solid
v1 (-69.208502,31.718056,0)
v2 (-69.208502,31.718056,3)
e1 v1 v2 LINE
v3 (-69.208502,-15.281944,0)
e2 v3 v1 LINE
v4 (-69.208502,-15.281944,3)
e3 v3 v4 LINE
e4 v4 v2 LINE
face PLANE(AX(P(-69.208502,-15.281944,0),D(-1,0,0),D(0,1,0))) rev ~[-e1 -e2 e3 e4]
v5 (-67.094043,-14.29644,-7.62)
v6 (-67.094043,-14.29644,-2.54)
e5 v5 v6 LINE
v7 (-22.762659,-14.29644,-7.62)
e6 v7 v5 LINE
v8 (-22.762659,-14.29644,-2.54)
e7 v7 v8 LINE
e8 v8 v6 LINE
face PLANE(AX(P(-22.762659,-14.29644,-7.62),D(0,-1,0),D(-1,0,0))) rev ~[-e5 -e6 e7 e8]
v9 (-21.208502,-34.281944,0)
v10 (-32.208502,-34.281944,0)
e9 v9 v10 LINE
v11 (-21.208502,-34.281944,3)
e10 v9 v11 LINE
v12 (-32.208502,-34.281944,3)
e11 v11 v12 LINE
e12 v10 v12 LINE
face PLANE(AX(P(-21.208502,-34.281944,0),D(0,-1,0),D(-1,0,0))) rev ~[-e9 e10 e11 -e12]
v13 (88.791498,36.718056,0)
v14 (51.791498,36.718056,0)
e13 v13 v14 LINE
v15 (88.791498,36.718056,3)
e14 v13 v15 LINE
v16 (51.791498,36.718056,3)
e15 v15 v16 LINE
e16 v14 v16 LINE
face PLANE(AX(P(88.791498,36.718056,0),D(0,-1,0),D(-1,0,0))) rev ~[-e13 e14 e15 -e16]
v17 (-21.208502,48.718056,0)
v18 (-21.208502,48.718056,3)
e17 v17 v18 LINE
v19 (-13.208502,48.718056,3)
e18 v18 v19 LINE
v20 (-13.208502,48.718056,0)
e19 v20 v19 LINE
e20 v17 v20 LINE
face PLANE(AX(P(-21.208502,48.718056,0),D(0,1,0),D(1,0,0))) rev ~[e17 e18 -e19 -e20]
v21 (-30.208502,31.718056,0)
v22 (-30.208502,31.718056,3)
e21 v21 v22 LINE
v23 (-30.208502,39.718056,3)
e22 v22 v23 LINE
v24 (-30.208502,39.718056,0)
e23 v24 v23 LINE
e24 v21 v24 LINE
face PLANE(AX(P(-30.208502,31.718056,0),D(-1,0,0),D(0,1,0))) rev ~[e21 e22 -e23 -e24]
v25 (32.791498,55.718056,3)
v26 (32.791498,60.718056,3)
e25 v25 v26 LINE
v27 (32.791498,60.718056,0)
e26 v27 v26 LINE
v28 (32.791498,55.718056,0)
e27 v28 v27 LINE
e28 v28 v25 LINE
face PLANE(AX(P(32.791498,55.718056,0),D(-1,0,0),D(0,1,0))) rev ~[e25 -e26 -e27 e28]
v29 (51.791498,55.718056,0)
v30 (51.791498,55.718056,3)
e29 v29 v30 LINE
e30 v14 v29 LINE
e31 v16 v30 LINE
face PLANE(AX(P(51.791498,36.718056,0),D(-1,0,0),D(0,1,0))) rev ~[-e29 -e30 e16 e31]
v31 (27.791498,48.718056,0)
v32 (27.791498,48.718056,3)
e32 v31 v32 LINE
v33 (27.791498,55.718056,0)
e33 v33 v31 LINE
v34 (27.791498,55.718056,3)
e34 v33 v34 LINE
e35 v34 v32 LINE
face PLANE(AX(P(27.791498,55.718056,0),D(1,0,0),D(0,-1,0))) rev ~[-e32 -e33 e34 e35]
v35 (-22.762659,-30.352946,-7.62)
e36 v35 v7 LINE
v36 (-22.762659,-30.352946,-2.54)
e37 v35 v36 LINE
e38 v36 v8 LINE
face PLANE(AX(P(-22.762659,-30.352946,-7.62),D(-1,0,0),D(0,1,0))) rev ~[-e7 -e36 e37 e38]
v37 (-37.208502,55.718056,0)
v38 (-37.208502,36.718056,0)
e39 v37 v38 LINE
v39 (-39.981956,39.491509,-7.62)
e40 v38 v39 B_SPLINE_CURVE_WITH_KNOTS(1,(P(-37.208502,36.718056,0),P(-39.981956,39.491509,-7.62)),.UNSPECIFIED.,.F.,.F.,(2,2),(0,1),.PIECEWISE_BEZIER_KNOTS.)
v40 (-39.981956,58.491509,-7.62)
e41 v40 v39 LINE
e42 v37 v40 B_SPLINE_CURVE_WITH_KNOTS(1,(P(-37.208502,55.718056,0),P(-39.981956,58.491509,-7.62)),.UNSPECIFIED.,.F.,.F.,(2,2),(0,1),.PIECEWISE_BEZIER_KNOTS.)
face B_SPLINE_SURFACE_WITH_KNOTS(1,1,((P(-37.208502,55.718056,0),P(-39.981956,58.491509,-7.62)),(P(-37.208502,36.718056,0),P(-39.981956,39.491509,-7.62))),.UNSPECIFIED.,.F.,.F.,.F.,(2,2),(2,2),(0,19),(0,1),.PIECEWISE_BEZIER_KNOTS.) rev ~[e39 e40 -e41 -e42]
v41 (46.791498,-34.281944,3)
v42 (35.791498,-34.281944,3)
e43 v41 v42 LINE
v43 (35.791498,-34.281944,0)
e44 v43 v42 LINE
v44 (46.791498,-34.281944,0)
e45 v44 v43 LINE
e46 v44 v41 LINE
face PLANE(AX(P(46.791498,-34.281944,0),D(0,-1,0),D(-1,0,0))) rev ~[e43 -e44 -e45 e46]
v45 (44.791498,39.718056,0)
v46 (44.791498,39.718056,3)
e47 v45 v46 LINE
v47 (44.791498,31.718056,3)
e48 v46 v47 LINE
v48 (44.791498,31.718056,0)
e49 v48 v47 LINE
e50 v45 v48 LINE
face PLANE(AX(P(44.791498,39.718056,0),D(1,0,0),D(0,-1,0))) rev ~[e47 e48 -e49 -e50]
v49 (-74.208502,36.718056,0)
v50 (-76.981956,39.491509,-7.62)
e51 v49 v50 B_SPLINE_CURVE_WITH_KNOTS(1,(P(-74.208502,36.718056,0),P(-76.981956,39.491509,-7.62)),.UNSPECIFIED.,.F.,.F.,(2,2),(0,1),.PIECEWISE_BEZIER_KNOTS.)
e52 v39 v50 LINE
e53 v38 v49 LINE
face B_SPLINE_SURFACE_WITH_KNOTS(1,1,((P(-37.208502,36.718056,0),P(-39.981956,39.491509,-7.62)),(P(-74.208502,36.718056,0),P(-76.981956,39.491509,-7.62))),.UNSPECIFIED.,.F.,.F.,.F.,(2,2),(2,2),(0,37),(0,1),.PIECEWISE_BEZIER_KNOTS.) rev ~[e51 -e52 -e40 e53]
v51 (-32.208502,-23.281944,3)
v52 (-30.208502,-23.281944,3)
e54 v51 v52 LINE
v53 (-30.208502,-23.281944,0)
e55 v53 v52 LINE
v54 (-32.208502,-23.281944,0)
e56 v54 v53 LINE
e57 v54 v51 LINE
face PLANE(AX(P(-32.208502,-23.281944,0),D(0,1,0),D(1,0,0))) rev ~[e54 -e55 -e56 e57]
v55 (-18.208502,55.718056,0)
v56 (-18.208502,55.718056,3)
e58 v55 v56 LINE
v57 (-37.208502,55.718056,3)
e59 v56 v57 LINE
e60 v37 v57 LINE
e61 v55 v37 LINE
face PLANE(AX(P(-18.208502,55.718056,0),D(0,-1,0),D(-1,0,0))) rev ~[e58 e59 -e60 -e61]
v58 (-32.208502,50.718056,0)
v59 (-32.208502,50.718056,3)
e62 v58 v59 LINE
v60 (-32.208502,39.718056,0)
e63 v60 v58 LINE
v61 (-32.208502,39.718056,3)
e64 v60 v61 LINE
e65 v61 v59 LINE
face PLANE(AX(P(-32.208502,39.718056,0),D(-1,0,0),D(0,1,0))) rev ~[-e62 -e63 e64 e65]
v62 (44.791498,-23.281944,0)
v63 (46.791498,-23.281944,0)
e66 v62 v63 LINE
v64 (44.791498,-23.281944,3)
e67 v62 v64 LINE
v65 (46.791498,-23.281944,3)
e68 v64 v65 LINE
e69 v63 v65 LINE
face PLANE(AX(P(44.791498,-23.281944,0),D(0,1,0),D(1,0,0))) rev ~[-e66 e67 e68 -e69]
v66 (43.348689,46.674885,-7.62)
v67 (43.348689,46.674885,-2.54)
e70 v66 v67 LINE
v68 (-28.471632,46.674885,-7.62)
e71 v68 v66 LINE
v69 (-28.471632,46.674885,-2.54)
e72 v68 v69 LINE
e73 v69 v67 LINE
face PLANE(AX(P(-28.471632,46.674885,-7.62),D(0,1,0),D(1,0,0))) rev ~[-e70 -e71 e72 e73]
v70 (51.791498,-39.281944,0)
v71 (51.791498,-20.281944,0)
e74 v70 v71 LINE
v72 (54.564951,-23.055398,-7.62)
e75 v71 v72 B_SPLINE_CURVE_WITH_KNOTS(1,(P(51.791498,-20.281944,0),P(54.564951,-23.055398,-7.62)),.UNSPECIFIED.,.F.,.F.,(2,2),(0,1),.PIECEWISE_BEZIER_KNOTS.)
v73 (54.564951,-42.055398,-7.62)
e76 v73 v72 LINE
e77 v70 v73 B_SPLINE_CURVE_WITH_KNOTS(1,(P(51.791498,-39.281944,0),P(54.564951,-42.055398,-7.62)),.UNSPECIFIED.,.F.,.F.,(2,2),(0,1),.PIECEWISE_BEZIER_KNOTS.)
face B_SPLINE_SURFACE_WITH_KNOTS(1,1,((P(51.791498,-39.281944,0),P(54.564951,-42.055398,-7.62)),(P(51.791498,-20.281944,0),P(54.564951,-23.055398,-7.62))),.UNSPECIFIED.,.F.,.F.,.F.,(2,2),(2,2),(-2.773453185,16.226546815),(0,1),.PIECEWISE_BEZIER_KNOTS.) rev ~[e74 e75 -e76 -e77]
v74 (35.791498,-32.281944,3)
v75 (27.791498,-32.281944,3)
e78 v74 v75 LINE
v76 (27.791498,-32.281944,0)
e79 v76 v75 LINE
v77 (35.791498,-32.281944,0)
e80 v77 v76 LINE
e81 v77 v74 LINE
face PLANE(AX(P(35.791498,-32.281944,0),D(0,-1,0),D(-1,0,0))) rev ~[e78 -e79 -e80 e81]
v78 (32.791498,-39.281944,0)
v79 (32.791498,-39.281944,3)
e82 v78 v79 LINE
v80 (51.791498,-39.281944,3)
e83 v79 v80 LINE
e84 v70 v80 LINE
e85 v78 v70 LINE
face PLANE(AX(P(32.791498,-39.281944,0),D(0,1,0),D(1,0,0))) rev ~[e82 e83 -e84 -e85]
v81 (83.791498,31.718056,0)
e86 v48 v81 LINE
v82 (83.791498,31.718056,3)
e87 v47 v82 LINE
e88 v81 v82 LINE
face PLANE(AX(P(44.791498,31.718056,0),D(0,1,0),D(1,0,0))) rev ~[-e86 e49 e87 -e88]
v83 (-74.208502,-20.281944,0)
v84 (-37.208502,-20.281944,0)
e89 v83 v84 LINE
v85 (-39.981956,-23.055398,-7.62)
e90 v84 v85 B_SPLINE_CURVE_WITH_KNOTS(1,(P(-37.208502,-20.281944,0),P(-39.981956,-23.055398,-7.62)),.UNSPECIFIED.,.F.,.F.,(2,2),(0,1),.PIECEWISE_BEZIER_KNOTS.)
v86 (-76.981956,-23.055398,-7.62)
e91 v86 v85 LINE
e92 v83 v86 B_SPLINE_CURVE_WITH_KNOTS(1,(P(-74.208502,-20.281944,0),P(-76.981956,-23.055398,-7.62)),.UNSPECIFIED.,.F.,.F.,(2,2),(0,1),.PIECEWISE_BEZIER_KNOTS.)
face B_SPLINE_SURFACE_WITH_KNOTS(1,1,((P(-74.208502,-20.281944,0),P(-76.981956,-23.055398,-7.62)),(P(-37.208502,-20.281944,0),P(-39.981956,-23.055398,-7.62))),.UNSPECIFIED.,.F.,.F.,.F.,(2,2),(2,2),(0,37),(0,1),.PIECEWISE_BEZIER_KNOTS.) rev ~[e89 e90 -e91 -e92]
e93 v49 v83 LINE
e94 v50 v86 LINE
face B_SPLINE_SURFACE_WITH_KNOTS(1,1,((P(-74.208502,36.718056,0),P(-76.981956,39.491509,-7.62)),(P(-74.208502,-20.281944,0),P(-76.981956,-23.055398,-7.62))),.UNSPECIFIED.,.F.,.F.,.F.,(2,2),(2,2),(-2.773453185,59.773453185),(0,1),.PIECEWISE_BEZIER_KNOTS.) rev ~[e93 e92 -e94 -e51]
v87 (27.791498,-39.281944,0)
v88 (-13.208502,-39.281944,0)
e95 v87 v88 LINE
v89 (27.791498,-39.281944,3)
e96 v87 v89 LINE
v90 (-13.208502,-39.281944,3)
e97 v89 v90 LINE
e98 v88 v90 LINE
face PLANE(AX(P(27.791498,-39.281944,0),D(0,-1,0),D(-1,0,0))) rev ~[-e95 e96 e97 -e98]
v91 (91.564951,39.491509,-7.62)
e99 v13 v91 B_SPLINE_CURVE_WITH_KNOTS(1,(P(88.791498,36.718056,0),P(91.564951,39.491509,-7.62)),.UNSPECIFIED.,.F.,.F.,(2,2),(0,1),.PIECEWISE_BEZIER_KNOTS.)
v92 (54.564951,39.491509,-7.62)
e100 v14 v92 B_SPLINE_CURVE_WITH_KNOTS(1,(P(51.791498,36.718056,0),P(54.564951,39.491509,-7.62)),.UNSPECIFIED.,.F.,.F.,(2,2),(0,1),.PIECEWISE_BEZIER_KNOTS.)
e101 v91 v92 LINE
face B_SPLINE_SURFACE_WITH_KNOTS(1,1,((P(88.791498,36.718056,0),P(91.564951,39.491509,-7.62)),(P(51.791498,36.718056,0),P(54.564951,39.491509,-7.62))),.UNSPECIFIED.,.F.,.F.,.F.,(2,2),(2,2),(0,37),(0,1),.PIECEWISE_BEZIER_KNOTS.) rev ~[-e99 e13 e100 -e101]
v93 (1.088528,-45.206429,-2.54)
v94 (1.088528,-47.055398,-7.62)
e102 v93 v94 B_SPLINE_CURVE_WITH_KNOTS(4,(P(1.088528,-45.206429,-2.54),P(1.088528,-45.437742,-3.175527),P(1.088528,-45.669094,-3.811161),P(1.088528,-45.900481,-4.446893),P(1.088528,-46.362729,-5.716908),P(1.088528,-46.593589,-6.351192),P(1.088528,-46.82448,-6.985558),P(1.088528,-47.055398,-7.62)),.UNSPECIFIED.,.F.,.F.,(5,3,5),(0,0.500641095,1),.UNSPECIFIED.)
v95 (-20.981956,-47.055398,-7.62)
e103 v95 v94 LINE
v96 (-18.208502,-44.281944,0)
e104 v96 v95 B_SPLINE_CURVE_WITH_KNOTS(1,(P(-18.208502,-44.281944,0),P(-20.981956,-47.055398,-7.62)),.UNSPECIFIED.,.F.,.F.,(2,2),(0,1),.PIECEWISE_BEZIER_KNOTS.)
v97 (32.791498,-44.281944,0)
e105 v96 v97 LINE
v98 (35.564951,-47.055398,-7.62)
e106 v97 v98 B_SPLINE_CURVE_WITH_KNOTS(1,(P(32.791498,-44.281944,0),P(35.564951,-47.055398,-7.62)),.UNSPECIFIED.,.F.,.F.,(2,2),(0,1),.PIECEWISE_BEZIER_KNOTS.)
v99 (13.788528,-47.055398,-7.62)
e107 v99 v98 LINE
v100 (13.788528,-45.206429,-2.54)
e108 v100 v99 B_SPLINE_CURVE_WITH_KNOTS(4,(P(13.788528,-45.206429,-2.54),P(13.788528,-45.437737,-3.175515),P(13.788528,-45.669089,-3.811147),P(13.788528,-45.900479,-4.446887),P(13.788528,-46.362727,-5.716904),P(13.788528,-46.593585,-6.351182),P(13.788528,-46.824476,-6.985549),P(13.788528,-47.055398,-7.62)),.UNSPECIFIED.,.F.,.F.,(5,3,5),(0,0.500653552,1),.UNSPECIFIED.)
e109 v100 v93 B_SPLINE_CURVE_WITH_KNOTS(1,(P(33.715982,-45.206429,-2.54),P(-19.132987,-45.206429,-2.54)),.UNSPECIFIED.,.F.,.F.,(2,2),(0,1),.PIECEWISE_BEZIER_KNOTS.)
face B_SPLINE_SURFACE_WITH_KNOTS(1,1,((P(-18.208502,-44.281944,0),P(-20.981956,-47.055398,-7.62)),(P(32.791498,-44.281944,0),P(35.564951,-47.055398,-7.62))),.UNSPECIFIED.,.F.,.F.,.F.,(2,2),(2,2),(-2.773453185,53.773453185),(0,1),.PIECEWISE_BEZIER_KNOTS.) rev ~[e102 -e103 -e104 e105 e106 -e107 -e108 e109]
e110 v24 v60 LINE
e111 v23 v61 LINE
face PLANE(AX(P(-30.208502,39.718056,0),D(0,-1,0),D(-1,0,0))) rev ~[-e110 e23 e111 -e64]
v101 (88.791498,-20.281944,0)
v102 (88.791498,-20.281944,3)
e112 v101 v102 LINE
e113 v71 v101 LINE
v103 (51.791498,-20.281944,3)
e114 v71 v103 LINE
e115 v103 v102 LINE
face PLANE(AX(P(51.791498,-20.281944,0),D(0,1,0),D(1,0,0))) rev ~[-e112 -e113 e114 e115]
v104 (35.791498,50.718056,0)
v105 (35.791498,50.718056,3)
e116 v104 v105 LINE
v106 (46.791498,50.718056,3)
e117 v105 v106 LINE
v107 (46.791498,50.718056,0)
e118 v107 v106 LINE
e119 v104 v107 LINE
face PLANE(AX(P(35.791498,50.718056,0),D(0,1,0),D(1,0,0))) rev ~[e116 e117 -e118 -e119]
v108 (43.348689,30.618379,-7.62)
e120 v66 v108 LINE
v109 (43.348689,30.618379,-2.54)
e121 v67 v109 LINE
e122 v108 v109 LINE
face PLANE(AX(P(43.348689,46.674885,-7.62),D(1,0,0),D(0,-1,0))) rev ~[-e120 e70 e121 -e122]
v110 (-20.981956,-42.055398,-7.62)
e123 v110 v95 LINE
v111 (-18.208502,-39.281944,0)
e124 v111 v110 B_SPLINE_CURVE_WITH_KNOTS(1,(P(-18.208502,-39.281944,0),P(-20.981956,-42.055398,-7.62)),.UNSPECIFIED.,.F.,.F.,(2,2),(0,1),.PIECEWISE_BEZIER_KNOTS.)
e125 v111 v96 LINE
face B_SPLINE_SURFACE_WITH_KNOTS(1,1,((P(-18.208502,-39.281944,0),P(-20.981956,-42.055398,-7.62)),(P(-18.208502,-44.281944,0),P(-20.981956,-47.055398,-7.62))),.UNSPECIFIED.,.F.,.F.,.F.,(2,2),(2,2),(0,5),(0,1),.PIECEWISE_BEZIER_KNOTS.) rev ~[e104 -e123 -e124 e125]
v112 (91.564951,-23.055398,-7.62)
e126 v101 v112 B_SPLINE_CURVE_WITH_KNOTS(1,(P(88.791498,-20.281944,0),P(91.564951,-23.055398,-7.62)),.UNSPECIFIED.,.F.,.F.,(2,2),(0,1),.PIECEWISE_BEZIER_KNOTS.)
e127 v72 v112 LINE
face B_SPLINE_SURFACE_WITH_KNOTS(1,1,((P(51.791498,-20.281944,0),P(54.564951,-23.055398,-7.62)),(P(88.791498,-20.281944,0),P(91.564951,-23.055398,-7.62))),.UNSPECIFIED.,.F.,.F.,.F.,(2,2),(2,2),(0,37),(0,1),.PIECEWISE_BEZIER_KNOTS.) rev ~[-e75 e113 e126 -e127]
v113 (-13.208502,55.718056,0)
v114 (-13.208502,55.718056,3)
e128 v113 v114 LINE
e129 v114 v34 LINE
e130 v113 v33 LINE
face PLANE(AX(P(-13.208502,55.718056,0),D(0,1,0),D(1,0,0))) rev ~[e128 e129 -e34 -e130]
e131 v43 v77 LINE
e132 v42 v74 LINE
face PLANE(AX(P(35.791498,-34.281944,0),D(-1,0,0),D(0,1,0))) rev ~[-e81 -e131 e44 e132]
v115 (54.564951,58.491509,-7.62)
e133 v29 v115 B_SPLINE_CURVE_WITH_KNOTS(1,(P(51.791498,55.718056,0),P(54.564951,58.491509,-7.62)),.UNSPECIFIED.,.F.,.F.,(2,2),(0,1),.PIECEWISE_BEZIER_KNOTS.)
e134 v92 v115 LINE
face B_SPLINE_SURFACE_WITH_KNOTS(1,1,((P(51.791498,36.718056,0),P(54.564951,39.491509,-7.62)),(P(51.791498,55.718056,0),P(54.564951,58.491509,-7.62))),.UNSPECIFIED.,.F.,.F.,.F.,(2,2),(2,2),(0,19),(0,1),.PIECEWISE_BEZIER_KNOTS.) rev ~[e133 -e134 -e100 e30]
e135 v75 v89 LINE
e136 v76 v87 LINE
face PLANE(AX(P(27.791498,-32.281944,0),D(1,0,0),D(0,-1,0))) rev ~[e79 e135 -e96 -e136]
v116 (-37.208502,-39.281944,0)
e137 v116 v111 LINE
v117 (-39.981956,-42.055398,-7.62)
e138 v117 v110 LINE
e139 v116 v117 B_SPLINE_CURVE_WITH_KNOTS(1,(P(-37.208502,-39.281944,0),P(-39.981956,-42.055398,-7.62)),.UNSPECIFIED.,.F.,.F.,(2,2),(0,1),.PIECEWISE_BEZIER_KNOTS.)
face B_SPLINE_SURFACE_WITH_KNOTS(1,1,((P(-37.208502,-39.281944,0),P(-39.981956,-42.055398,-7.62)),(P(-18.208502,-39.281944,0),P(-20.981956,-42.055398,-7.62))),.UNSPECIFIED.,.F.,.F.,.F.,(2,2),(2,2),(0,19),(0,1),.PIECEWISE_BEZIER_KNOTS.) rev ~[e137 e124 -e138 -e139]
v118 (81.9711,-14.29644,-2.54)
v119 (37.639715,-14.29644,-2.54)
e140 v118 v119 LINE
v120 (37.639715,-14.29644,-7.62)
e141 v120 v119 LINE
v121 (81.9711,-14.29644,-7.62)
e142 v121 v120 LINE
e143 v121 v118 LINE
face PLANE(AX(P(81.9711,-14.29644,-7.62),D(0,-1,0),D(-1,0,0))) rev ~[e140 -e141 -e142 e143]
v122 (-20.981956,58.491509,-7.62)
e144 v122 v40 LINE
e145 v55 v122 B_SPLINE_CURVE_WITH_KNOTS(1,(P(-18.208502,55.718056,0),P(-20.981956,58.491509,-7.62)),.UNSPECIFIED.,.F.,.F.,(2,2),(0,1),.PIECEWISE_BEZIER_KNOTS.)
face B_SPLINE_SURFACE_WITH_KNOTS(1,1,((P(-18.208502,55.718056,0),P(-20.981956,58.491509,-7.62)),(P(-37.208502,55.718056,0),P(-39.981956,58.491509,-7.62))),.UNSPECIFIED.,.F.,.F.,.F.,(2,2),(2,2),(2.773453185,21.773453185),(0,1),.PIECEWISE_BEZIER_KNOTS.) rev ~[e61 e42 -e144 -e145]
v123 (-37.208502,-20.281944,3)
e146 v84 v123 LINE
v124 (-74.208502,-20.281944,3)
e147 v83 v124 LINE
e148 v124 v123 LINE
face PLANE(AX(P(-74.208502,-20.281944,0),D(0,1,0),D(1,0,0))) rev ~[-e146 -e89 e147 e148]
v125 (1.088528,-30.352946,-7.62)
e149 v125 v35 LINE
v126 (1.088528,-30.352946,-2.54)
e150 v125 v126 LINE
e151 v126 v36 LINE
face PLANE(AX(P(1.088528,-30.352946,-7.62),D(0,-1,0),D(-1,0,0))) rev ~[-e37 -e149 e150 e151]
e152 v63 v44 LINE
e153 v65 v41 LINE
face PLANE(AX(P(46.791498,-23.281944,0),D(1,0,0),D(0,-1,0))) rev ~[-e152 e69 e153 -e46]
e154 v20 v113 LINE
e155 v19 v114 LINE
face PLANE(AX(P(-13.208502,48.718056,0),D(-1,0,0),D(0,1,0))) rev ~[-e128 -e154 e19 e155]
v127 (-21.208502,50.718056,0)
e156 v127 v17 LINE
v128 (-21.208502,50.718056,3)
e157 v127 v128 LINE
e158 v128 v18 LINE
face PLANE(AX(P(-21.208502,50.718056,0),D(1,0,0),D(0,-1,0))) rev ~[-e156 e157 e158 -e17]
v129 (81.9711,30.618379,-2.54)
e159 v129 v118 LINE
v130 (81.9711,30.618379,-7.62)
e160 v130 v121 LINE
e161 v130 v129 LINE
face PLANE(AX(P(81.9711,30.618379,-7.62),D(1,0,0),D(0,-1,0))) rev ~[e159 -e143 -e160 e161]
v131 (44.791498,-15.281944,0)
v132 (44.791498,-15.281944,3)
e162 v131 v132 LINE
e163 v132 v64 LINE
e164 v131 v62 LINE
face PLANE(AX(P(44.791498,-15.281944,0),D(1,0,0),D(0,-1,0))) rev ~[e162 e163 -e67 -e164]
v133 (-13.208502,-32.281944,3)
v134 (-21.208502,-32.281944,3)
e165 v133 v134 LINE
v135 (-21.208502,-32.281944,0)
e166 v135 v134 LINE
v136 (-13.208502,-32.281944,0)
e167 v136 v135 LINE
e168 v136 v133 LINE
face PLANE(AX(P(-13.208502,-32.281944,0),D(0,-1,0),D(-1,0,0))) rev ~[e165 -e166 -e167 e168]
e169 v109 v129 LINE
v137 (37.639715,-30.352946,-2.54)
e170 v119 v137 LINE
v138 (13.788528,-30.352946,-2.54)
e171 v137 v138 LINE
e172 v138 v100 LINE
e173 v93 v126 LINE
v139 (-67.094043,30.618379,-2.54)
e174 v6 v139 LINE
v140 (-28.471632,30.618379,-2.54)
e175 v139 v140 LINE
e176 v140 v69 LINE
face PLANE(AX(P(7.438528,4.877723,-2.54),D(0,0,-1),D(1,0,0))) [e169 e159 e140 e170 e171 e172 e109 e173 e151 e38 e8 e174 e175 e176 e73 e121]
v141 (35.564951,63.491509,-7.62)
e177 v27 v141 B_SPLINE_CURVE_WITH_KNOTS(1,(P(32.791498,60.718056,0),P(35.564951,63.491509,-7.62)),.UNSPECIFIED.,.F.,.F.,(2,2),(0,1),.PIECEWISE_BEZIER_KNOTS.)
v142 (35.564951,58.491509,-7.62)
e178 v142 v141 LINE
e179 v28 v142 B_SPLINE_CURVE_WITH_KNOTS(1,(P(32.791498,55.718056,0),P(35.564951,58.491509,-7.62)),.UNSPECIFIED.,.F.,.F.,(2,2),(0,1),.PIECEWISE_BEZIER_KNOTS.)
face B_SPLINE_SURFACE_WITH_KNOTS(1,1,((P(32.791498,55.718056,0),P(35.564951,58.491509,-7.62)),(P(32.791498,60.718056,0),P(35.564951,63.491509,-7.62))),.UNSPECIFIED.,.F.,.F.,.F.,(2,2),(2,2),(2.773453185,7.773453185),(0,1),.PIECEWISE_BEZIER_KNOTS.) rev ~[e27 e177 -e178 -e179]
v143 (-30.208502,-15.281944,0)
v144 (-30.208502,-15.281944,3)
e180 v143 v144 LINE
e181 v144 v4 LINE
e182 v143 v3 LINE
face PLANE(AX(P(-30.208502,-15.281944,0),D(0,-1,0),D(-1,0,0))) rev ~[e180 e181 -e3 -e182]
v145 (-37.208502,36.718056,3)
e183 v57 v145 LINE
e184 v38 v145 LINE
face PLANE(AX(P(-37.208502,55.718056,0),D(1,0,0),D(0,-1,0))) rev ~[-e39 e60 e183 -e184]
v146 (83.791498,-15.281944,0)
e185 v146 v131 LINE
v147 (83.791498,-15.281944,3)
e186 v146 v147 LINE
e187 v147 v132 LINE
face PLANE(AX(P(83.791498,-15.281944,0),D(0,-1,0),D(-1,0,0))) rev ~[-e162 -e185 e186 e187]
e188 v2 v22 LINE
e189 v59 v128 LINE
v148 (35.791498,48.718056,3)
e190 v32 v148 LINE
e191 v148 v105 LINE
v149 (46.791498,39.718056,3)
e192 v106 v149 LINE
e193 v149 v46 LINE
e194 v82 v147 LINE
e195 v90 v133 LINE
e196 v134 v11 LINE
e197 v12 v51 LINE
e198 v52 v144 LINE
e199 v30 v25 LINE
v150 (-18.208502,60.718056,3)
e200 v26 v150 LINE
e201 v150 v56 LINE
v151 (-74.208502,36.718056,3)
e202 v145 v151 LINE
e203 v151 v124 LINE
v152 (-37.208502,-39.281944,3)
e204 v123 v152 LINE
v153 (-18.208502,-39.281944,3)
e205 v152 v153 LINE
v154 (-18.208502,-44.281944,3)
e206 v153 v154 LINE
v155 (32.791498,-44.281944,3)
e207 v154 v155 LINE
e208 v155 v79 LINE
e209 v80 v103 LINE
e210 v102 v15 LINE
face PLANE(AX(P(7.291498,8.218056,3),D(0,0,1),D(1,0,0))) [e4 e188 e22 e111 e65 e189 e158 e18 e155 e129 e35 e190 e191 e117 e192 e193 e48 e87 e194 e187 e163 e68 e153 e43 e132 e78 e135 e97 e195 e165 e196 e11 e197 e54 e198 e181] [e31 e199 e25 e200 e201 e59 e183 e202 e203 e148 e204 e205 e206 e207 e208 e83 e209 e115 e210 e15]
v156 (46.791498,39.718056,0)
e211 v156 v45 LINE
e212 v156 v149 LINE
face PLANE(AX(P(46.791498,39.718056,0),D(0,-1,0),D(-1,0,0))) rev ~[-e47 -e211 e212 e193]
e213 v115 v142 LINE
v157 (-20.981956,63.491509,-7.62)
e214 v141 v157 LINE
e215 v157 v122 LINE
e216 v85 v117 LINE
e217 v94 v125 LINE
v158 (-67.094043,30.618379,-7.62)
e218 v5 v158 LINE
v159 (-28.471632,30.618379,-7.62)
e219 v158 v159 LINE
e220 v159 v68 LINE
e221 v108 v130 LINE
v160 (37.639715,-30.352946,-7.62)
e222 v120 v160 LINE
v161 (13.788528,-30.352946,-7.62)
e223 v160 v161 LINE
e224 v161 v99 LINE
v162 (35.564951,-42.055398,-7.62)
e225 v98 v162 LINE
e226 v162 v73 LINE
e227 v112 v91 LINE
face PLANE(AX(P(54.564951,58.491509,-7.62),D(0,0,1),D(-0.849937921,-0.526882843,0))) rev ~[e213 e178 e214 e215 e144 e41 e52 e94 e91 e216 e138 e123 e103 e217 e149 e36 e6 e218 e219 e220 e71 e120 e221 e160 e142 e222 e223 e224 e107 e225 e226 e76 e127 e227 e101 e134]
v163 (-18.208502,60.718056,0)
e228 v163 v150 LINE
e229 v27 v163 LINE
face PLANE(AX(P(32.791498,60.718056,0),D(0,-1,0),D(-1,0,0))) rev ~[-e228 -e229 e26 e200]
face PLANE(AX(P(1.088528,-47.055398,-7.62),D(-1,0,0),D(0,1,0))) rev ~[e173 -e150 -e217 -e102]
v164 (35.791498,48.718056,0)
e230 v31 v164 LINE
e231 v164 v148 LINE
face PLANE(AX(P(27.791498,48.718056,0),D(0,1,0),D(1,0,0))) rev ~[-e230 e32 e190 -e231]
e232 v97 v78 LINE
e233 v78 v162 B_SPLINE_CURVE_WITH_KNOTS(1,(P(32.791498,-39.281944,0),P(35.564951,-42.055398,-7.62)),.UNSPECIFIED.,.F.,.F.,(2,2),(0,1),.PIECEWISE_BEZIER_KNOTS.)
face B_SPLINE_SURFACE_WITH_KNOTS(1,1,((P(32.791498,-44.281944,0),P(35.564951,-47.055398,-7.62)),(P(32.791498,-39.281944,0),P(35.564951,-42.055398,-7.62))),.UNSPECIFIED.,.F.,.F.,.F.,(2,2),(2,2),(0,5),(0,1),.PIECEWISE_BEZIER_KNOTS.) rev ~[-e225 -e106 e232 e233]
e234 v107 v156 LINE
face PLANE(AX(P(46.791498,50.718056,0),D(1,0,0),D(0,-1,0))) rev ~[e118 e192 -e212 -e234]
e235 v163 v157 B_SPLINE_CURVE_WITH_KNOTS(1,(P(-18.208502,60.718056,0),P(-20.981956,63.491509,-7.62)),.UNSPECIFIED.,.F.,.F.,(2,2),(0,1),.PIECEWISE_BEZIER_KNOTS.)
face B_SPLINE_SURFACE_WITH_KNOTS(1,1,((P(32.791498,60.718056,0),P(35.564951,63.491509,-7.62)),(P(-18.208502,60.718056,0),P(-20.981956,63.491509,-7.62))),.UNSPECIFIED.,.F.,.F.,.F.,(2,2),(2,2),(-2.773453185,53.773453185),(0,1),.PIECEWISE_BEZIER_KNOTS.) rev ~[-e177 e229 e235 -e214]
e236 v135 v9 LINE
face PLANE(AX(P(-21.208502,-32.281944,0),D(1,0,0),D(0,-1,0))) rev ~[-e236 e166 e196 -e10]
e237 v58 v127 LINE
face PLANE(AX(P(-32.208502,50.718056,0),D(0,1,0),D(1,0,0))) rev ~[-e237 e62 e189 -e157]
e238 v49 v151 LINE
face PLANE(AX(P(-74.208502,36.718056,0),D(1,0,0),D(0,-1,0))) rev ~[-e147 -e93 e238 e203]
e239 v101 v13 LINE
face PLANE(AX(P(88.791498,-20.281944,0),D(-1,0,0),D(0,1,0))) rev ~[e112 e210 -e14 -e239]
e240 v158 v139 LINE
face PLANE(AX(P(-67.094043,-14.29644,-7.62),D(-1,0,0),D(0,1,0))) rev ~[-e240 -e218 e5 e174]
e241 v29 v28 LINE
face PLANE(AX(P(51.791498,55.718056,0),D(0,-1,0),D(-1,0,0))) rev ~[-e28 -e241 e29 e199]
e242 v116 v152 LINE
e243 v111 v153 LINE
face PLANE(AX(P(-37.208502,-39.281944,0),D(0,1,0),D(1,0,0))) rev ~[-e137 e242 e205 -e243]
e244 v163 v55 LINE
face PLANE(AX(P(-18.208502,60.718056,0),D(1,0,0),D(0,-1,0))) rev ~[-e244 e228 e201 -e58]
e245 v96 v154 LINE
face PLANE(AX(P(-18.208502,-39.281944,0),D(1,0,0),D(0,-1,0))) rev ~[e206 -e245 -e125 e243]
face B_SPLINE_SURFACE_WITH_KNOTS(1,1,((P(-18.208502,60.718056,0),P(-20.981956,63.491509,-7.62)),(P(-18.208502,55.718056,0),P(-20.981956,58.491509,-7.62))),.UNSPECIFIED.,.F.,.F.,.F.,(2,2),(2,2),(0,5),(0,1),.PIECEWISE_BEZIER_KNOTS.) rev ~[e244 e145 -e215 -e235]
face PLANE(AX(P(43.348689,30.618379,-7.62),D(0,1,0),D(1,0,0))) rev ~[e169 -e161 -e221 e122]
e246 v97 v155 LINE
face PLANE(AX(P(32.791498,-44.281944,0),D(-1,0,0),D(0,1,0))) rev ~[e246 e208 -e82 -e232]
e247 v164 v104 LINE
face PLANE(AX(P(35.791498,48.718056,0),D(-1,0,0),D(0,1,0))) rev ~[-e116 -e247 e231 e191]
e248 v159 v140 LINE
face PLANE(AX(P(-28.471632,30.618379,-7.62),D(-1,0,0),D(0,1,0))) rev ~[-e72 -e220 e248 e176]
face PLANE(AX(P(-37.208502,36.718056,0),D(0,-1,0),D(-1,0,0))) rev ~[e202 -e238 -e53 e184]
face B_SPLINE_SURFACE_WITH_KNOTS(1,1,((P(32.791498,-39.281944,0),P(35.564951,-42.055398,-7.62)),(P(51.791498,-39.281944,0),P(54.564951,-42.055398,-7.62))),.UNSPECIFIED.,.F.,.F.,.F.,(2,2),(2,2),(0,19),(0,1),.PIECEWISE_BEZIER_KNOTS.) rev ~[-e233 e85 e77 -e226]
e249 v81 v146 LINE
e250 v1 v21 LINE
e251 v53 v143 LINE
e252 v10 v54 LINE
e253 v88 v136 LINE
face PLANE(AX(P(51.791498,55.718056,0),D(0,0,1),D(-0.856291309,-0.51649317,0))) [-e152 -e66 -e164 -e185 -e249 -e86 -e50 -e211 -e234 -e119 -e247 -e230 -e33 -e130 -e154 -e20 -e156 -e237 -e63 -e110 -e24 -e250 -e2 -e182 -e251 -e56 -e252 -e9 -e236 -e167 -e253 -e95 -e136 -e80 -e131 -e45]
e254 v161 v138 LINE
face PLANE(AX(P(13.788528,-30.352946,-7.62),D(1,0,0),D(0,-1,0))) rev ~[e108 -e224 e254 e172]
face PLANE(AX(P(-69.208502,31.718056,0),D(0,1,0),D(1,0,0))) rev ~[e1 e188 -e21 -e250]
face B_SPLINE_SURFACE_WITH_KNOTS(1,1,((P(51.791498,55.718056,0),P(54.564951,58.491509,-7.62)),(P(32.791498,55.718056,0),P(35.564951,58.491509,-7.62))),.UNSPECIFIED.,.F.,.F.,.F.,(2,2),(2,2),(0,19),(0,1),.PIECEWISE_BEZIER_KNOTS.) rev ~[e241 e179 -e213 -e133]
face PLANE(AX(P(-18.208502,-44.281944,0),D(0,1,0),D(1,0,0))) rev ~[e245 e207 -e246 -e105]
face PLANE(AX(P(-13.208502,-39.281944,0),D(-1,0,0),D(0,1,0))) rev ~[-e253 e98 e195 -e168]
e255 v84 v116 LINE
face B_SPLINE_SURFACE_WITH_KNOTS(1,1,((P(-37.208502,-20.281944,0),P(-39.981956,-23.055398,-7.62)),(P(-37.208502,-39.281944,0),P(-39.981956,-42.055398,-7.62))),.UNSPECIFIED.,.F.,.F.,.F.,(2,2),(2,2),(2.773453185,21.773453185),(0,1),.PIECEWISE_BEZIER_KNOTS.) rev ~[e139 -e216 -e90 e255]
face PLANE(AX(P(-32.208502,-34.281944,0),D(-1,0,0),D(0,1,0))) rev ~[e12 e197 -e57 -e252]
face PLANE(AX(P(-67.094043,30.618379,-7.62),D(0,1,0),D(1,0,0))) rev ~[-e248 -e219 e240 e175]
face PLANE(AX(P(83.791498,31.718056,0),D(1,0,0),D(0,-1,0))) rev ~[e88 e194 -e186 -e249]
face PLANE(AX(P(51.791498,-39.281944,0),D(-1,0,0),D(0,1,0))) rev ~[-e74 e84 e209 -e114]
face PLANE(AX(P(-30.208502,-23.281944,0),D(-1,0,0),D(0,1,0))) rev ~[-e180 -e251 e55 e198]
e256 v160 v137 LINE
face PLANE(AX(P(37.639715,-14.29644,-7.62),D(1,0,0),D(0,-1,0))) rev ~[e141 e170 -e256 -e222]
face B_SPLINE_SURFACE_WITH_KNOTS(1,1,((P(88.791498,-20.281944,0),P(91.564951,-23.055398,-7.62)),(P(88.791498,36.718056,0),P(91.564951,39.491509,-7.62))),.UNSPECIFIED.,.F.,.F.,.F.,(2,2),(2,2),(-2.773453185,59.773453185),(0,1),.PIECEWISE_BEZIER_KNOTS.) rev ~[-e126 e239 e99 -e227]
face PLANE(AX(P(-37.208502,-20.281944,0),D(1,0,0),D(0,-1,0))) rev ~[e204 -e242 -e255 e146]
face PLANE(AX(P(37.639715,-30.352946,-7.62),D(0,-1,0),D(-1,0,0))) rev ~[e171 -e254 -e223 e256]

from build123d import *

# Parameters (mm, degrees)
F1_DEPTH = 3
F2_DEPTH = 7.62
F2_TAPER = -20
F4_DEPTH = 5.08


with BuildPart() as f1:
    # F0 (on Top) → F1 (new body)
    with BuildSketch(Plane.XY):
        Polygon((51.7914976329, 55.718055591), (32.7914976329, 55.718055591), (32.7914976329, 60.718055591), (7.2914976329, 60.718055591), (-18.2085023671, 60.718055591), (-18.2085023671, 55.718055591), (-37.2085023671, 55.718055591), (-37.2085023671, 36.718055591), (-74.2085023671, 36.718055591), (-74.2085023671, 8.218055591), (-74.2085023671, -20.281944409), (-37.2085023671, -20.281944409), (-37.2085023671, -39.281944409), (-18.2085023671, -39.281944409), (-18.2085023671, -44.281944409), (7.2914976329, -44.281944409), (32.7914976329, -44.281944409), (32.7914976329, -39.281944409), (51.7914976329, -39.281944409), (51.7914976329, -20.281944409), (88.7914976329, -20.281944409), (88.7914976329, 8.218055591), (88.7914976329, 36.718055591), (51.7914976329, 36.718055591), align=None)
        Polygon((-69.2085023671, 8.218055591), (-69.2085023671, 31.718055591), (-30.2085023671, 31.718055591), (-30.2085023671, 39.718055591), (-32.2085023671, 39.718055591), (-32.2085023671, 50.718055591), (-21.2085023671, 50.718055591), (-21.2085023671, 48.718055591), (-13.2085023671, 48.718055591), (-13.2085023671, 55.718055591), (7.2914976329, 55.718055591), (27.7914976329, 55.718055591), (27.7914976329, 48.718055591), (35.7914976329, 48.718055591), (35.7914976329, 50.718055591), (46.7914976329, 50.718055591), (46.7914976329, 39.718055591), (44.7914976329, 39.718055591), (44.7914976329, 31.718055591), (83.7914976329, 31.718055591), (83.7914976329, 8.218055591), (83.7914976329, -15.281944409), (44.7914976329, -15.281944409), (44.7914976329, -23.281944409), (46.7914976329, -23.281944409), (46.7914976329, -34.281944409), (35.7914976329, -34.281944409), (35.7914976329, -32.281944409), (27.7914976329, -32.281944409), (27.7914976329, -39.281944409), (7.2914976329, -39.281944409), (-13.2085023671, -39.281944409), (-13.2085023671, -32.281944409), (-21.2085023671, -32.281944409), (-21.2085023671, -34.281944409), (-32.2085023671, -34.281944409), (-32.2085023671, -23.281944409), (-30.2085023671, -23.281944409), (-30.2085023671, -15.281944409), (-69.2085023671, -15.281944409), align=None, mode=Mode.SUBTRACT)
    extrude(amount=F1_DEPTH)

    # F0 (on Top) → F2 (join)
    with BuildSketch(Plane.XY):
        Polygon((51.7914976329, 55.718055591), (32.7914976329, 55.718055591), (32.7914976329, 60.718055591), (7.2914976329, 60.718055591), (-18.2085023671, 60.718055591), (-18.2085023671, 55.718055591), (-37.2085023671, 55.718055591), (-37.2085023671, 36.718055591), (-74.2085023671, 36.718055591), (-74.2085023671, 8.218055591), (-74.2085023671, -20.281944409), (-37.2085023671, -20.281944409), (-37.2085023671, -39.281944409), (-18.2085023671, -39.281944409), (-18.2085023671, -44.281944409), (7.2914976329, -44.281944409), (32.7914976329, -44.281944409), (32.7914976329, -39.281944409), (51.7914976329, -39.281944409), (51.7914976329, -20.281944409), (88.7914976329, -20.281944409), (88.7914976329, 8.218055591), (88.7914976329, 36.718055591), (51.7914976329, 36.718055591), align=None)
        Polygon((-69.2085023671, 8.218055591), (-69.2085023671, 31.718055591), (-30.2085023671, 31.718055591), (-30.2085023671, 39.718055591), (-32.2085023671, 39.718055591), (-32.2085023671, 50.718055591), (-21.2085023671, 50.718055591), (-21.2085023671, 48.718055591), (-13.2085023671, 48.718055591), (-13.2085023671, 55.718055591), (7.2914976329, 55.718055591), (27.7914976329, 55.718055591), (27.7914976329, 48.718055591), (35.7914976329, 48.718055591), (35.7914976329, 50.718055591), (46.7914976329, 50.718055591), (46.7914976329, 39.718055591), (44.7914976329, 39.718055591), (44.7914976329, 31.718055591), (83.7914976329, 31.718055591), (83.7914976329, 8.218055591), (83.7914976329, -15.281944409), (44.7914976329, -15.281944409), (44.7914976329, -23.281944409), (46.7914976329, -23.281944409), (46.7914976329, -34.281944409), (35.7914976329, -34.281944409), (35.7914976329, -32.281944409), (27.7914976329, -32.281944409), (27.7914976329, -39.281944409), (7.2914976329, -39.281944409), (-13.2085023671, -39.281944409), (-13.2085023671, -32.281944409), (-21.2085023671, -32.281944409), (-21.2085023671, -34.281944409), (-32.2085023671, -34.281944409), (-32.2085023671, -23.281944409), (-30.2085023671, -23.281944409), (-30.2085023671, -15.281944409), (-69.2085023671, -15.281944409), align=None, mode=Mode.SUBTRACT)
        Polygon((-30.2085023671, 31.718055591), (-69.2085023671, 31.718055591), (-69.2085023671, 8.218055591), (-69.2085023671, -15.281944409), (-30.2085023671, -15.281944409), (-30.2085023671, -23.281944409), (-32.2085023671, -23.281944409), (-32.2085023671, -34.281944409), (-21.2085023671, -34.281944409), (-21.2085023671, -32.281944409), (-13.2085023671, -32.281944409), (-13.2085023671, -39.281944409), (7.2914976329, -39.281944409), (27.7914976329, -39.281944409), (27.7914976329, -32.281944409), (35.7914976329, -32.281944409), (35.7914976329, -34.281944409), (46.7914976329, -34.281944409), (46.7914976329, -23.281944409), (44.7914976329, -23.281944409), (44.7914976329, -15.281944409), (83.7914976329, -15.281944409), (83.7914976329, 8.218055591), (83.7914976329, 31.718055591), (44.7914976329, 31.718055591), (44.7914976329, 39.718055591), (46.7914976329, 39.718055591), (46.7914976329, 50.718055591), (35.7914976329, 50.718055591), (35.7914976329, 48.718055591), (27.7914976329, 48.718055591), (27.7914976329, 55.718055591), (7.2914976329, 55.718055591), (-13.2085023671, 55.718055591), (-13.2085023671, 48.718055591), (-21.2085023671, 48.718055591), (-21.2085023671, 50.718055591), (-32.2085023671, 50.718055591), (-32.2085023671, 39.718055591), (-30.2085023671, 39.718055591), align=None)
    extrude(amount=-F2_DEPTH, taper=F2_TAPER)

    # F3 (on face) → F4 (cut)
    with BuildSketch(Plane(origin=(0, 0, -7.62), x_dir=(1, 0, 0), z_dir=(0, 0, -1))):
        Polygon((-28.4716319293, 14.2964404076), (-67.0940428972, 14.2964404076), (-67.0940428972, -30.6183788925), (-28.4716319293, -30.6183788925), (-28.4716319293, -46.6748848557), (43.3486886322, -46.6748848557), (43.3486886322, -30.6183788925), (81.9710996002, -30.6183788925), (81.9710996002, 14.2964404076), (43.3486886322, 14.2964404076), (37.6397153199, 14.2964404076), (37.6397153199, 30.3529463708), (13.7885283515, 30.3529463708), (13.7885283515, 47.0553975941), (1.0885283515, 47.0553975941), (1.0885283515, 30.3529463708), (-22.7626586169, 30.3529463708), (-22.7626586169, 14.2964404076), align=None)
    extrude(amount=-F4_DEPTH, mode=Mode.SUBTRACT)


solid = f1.part
